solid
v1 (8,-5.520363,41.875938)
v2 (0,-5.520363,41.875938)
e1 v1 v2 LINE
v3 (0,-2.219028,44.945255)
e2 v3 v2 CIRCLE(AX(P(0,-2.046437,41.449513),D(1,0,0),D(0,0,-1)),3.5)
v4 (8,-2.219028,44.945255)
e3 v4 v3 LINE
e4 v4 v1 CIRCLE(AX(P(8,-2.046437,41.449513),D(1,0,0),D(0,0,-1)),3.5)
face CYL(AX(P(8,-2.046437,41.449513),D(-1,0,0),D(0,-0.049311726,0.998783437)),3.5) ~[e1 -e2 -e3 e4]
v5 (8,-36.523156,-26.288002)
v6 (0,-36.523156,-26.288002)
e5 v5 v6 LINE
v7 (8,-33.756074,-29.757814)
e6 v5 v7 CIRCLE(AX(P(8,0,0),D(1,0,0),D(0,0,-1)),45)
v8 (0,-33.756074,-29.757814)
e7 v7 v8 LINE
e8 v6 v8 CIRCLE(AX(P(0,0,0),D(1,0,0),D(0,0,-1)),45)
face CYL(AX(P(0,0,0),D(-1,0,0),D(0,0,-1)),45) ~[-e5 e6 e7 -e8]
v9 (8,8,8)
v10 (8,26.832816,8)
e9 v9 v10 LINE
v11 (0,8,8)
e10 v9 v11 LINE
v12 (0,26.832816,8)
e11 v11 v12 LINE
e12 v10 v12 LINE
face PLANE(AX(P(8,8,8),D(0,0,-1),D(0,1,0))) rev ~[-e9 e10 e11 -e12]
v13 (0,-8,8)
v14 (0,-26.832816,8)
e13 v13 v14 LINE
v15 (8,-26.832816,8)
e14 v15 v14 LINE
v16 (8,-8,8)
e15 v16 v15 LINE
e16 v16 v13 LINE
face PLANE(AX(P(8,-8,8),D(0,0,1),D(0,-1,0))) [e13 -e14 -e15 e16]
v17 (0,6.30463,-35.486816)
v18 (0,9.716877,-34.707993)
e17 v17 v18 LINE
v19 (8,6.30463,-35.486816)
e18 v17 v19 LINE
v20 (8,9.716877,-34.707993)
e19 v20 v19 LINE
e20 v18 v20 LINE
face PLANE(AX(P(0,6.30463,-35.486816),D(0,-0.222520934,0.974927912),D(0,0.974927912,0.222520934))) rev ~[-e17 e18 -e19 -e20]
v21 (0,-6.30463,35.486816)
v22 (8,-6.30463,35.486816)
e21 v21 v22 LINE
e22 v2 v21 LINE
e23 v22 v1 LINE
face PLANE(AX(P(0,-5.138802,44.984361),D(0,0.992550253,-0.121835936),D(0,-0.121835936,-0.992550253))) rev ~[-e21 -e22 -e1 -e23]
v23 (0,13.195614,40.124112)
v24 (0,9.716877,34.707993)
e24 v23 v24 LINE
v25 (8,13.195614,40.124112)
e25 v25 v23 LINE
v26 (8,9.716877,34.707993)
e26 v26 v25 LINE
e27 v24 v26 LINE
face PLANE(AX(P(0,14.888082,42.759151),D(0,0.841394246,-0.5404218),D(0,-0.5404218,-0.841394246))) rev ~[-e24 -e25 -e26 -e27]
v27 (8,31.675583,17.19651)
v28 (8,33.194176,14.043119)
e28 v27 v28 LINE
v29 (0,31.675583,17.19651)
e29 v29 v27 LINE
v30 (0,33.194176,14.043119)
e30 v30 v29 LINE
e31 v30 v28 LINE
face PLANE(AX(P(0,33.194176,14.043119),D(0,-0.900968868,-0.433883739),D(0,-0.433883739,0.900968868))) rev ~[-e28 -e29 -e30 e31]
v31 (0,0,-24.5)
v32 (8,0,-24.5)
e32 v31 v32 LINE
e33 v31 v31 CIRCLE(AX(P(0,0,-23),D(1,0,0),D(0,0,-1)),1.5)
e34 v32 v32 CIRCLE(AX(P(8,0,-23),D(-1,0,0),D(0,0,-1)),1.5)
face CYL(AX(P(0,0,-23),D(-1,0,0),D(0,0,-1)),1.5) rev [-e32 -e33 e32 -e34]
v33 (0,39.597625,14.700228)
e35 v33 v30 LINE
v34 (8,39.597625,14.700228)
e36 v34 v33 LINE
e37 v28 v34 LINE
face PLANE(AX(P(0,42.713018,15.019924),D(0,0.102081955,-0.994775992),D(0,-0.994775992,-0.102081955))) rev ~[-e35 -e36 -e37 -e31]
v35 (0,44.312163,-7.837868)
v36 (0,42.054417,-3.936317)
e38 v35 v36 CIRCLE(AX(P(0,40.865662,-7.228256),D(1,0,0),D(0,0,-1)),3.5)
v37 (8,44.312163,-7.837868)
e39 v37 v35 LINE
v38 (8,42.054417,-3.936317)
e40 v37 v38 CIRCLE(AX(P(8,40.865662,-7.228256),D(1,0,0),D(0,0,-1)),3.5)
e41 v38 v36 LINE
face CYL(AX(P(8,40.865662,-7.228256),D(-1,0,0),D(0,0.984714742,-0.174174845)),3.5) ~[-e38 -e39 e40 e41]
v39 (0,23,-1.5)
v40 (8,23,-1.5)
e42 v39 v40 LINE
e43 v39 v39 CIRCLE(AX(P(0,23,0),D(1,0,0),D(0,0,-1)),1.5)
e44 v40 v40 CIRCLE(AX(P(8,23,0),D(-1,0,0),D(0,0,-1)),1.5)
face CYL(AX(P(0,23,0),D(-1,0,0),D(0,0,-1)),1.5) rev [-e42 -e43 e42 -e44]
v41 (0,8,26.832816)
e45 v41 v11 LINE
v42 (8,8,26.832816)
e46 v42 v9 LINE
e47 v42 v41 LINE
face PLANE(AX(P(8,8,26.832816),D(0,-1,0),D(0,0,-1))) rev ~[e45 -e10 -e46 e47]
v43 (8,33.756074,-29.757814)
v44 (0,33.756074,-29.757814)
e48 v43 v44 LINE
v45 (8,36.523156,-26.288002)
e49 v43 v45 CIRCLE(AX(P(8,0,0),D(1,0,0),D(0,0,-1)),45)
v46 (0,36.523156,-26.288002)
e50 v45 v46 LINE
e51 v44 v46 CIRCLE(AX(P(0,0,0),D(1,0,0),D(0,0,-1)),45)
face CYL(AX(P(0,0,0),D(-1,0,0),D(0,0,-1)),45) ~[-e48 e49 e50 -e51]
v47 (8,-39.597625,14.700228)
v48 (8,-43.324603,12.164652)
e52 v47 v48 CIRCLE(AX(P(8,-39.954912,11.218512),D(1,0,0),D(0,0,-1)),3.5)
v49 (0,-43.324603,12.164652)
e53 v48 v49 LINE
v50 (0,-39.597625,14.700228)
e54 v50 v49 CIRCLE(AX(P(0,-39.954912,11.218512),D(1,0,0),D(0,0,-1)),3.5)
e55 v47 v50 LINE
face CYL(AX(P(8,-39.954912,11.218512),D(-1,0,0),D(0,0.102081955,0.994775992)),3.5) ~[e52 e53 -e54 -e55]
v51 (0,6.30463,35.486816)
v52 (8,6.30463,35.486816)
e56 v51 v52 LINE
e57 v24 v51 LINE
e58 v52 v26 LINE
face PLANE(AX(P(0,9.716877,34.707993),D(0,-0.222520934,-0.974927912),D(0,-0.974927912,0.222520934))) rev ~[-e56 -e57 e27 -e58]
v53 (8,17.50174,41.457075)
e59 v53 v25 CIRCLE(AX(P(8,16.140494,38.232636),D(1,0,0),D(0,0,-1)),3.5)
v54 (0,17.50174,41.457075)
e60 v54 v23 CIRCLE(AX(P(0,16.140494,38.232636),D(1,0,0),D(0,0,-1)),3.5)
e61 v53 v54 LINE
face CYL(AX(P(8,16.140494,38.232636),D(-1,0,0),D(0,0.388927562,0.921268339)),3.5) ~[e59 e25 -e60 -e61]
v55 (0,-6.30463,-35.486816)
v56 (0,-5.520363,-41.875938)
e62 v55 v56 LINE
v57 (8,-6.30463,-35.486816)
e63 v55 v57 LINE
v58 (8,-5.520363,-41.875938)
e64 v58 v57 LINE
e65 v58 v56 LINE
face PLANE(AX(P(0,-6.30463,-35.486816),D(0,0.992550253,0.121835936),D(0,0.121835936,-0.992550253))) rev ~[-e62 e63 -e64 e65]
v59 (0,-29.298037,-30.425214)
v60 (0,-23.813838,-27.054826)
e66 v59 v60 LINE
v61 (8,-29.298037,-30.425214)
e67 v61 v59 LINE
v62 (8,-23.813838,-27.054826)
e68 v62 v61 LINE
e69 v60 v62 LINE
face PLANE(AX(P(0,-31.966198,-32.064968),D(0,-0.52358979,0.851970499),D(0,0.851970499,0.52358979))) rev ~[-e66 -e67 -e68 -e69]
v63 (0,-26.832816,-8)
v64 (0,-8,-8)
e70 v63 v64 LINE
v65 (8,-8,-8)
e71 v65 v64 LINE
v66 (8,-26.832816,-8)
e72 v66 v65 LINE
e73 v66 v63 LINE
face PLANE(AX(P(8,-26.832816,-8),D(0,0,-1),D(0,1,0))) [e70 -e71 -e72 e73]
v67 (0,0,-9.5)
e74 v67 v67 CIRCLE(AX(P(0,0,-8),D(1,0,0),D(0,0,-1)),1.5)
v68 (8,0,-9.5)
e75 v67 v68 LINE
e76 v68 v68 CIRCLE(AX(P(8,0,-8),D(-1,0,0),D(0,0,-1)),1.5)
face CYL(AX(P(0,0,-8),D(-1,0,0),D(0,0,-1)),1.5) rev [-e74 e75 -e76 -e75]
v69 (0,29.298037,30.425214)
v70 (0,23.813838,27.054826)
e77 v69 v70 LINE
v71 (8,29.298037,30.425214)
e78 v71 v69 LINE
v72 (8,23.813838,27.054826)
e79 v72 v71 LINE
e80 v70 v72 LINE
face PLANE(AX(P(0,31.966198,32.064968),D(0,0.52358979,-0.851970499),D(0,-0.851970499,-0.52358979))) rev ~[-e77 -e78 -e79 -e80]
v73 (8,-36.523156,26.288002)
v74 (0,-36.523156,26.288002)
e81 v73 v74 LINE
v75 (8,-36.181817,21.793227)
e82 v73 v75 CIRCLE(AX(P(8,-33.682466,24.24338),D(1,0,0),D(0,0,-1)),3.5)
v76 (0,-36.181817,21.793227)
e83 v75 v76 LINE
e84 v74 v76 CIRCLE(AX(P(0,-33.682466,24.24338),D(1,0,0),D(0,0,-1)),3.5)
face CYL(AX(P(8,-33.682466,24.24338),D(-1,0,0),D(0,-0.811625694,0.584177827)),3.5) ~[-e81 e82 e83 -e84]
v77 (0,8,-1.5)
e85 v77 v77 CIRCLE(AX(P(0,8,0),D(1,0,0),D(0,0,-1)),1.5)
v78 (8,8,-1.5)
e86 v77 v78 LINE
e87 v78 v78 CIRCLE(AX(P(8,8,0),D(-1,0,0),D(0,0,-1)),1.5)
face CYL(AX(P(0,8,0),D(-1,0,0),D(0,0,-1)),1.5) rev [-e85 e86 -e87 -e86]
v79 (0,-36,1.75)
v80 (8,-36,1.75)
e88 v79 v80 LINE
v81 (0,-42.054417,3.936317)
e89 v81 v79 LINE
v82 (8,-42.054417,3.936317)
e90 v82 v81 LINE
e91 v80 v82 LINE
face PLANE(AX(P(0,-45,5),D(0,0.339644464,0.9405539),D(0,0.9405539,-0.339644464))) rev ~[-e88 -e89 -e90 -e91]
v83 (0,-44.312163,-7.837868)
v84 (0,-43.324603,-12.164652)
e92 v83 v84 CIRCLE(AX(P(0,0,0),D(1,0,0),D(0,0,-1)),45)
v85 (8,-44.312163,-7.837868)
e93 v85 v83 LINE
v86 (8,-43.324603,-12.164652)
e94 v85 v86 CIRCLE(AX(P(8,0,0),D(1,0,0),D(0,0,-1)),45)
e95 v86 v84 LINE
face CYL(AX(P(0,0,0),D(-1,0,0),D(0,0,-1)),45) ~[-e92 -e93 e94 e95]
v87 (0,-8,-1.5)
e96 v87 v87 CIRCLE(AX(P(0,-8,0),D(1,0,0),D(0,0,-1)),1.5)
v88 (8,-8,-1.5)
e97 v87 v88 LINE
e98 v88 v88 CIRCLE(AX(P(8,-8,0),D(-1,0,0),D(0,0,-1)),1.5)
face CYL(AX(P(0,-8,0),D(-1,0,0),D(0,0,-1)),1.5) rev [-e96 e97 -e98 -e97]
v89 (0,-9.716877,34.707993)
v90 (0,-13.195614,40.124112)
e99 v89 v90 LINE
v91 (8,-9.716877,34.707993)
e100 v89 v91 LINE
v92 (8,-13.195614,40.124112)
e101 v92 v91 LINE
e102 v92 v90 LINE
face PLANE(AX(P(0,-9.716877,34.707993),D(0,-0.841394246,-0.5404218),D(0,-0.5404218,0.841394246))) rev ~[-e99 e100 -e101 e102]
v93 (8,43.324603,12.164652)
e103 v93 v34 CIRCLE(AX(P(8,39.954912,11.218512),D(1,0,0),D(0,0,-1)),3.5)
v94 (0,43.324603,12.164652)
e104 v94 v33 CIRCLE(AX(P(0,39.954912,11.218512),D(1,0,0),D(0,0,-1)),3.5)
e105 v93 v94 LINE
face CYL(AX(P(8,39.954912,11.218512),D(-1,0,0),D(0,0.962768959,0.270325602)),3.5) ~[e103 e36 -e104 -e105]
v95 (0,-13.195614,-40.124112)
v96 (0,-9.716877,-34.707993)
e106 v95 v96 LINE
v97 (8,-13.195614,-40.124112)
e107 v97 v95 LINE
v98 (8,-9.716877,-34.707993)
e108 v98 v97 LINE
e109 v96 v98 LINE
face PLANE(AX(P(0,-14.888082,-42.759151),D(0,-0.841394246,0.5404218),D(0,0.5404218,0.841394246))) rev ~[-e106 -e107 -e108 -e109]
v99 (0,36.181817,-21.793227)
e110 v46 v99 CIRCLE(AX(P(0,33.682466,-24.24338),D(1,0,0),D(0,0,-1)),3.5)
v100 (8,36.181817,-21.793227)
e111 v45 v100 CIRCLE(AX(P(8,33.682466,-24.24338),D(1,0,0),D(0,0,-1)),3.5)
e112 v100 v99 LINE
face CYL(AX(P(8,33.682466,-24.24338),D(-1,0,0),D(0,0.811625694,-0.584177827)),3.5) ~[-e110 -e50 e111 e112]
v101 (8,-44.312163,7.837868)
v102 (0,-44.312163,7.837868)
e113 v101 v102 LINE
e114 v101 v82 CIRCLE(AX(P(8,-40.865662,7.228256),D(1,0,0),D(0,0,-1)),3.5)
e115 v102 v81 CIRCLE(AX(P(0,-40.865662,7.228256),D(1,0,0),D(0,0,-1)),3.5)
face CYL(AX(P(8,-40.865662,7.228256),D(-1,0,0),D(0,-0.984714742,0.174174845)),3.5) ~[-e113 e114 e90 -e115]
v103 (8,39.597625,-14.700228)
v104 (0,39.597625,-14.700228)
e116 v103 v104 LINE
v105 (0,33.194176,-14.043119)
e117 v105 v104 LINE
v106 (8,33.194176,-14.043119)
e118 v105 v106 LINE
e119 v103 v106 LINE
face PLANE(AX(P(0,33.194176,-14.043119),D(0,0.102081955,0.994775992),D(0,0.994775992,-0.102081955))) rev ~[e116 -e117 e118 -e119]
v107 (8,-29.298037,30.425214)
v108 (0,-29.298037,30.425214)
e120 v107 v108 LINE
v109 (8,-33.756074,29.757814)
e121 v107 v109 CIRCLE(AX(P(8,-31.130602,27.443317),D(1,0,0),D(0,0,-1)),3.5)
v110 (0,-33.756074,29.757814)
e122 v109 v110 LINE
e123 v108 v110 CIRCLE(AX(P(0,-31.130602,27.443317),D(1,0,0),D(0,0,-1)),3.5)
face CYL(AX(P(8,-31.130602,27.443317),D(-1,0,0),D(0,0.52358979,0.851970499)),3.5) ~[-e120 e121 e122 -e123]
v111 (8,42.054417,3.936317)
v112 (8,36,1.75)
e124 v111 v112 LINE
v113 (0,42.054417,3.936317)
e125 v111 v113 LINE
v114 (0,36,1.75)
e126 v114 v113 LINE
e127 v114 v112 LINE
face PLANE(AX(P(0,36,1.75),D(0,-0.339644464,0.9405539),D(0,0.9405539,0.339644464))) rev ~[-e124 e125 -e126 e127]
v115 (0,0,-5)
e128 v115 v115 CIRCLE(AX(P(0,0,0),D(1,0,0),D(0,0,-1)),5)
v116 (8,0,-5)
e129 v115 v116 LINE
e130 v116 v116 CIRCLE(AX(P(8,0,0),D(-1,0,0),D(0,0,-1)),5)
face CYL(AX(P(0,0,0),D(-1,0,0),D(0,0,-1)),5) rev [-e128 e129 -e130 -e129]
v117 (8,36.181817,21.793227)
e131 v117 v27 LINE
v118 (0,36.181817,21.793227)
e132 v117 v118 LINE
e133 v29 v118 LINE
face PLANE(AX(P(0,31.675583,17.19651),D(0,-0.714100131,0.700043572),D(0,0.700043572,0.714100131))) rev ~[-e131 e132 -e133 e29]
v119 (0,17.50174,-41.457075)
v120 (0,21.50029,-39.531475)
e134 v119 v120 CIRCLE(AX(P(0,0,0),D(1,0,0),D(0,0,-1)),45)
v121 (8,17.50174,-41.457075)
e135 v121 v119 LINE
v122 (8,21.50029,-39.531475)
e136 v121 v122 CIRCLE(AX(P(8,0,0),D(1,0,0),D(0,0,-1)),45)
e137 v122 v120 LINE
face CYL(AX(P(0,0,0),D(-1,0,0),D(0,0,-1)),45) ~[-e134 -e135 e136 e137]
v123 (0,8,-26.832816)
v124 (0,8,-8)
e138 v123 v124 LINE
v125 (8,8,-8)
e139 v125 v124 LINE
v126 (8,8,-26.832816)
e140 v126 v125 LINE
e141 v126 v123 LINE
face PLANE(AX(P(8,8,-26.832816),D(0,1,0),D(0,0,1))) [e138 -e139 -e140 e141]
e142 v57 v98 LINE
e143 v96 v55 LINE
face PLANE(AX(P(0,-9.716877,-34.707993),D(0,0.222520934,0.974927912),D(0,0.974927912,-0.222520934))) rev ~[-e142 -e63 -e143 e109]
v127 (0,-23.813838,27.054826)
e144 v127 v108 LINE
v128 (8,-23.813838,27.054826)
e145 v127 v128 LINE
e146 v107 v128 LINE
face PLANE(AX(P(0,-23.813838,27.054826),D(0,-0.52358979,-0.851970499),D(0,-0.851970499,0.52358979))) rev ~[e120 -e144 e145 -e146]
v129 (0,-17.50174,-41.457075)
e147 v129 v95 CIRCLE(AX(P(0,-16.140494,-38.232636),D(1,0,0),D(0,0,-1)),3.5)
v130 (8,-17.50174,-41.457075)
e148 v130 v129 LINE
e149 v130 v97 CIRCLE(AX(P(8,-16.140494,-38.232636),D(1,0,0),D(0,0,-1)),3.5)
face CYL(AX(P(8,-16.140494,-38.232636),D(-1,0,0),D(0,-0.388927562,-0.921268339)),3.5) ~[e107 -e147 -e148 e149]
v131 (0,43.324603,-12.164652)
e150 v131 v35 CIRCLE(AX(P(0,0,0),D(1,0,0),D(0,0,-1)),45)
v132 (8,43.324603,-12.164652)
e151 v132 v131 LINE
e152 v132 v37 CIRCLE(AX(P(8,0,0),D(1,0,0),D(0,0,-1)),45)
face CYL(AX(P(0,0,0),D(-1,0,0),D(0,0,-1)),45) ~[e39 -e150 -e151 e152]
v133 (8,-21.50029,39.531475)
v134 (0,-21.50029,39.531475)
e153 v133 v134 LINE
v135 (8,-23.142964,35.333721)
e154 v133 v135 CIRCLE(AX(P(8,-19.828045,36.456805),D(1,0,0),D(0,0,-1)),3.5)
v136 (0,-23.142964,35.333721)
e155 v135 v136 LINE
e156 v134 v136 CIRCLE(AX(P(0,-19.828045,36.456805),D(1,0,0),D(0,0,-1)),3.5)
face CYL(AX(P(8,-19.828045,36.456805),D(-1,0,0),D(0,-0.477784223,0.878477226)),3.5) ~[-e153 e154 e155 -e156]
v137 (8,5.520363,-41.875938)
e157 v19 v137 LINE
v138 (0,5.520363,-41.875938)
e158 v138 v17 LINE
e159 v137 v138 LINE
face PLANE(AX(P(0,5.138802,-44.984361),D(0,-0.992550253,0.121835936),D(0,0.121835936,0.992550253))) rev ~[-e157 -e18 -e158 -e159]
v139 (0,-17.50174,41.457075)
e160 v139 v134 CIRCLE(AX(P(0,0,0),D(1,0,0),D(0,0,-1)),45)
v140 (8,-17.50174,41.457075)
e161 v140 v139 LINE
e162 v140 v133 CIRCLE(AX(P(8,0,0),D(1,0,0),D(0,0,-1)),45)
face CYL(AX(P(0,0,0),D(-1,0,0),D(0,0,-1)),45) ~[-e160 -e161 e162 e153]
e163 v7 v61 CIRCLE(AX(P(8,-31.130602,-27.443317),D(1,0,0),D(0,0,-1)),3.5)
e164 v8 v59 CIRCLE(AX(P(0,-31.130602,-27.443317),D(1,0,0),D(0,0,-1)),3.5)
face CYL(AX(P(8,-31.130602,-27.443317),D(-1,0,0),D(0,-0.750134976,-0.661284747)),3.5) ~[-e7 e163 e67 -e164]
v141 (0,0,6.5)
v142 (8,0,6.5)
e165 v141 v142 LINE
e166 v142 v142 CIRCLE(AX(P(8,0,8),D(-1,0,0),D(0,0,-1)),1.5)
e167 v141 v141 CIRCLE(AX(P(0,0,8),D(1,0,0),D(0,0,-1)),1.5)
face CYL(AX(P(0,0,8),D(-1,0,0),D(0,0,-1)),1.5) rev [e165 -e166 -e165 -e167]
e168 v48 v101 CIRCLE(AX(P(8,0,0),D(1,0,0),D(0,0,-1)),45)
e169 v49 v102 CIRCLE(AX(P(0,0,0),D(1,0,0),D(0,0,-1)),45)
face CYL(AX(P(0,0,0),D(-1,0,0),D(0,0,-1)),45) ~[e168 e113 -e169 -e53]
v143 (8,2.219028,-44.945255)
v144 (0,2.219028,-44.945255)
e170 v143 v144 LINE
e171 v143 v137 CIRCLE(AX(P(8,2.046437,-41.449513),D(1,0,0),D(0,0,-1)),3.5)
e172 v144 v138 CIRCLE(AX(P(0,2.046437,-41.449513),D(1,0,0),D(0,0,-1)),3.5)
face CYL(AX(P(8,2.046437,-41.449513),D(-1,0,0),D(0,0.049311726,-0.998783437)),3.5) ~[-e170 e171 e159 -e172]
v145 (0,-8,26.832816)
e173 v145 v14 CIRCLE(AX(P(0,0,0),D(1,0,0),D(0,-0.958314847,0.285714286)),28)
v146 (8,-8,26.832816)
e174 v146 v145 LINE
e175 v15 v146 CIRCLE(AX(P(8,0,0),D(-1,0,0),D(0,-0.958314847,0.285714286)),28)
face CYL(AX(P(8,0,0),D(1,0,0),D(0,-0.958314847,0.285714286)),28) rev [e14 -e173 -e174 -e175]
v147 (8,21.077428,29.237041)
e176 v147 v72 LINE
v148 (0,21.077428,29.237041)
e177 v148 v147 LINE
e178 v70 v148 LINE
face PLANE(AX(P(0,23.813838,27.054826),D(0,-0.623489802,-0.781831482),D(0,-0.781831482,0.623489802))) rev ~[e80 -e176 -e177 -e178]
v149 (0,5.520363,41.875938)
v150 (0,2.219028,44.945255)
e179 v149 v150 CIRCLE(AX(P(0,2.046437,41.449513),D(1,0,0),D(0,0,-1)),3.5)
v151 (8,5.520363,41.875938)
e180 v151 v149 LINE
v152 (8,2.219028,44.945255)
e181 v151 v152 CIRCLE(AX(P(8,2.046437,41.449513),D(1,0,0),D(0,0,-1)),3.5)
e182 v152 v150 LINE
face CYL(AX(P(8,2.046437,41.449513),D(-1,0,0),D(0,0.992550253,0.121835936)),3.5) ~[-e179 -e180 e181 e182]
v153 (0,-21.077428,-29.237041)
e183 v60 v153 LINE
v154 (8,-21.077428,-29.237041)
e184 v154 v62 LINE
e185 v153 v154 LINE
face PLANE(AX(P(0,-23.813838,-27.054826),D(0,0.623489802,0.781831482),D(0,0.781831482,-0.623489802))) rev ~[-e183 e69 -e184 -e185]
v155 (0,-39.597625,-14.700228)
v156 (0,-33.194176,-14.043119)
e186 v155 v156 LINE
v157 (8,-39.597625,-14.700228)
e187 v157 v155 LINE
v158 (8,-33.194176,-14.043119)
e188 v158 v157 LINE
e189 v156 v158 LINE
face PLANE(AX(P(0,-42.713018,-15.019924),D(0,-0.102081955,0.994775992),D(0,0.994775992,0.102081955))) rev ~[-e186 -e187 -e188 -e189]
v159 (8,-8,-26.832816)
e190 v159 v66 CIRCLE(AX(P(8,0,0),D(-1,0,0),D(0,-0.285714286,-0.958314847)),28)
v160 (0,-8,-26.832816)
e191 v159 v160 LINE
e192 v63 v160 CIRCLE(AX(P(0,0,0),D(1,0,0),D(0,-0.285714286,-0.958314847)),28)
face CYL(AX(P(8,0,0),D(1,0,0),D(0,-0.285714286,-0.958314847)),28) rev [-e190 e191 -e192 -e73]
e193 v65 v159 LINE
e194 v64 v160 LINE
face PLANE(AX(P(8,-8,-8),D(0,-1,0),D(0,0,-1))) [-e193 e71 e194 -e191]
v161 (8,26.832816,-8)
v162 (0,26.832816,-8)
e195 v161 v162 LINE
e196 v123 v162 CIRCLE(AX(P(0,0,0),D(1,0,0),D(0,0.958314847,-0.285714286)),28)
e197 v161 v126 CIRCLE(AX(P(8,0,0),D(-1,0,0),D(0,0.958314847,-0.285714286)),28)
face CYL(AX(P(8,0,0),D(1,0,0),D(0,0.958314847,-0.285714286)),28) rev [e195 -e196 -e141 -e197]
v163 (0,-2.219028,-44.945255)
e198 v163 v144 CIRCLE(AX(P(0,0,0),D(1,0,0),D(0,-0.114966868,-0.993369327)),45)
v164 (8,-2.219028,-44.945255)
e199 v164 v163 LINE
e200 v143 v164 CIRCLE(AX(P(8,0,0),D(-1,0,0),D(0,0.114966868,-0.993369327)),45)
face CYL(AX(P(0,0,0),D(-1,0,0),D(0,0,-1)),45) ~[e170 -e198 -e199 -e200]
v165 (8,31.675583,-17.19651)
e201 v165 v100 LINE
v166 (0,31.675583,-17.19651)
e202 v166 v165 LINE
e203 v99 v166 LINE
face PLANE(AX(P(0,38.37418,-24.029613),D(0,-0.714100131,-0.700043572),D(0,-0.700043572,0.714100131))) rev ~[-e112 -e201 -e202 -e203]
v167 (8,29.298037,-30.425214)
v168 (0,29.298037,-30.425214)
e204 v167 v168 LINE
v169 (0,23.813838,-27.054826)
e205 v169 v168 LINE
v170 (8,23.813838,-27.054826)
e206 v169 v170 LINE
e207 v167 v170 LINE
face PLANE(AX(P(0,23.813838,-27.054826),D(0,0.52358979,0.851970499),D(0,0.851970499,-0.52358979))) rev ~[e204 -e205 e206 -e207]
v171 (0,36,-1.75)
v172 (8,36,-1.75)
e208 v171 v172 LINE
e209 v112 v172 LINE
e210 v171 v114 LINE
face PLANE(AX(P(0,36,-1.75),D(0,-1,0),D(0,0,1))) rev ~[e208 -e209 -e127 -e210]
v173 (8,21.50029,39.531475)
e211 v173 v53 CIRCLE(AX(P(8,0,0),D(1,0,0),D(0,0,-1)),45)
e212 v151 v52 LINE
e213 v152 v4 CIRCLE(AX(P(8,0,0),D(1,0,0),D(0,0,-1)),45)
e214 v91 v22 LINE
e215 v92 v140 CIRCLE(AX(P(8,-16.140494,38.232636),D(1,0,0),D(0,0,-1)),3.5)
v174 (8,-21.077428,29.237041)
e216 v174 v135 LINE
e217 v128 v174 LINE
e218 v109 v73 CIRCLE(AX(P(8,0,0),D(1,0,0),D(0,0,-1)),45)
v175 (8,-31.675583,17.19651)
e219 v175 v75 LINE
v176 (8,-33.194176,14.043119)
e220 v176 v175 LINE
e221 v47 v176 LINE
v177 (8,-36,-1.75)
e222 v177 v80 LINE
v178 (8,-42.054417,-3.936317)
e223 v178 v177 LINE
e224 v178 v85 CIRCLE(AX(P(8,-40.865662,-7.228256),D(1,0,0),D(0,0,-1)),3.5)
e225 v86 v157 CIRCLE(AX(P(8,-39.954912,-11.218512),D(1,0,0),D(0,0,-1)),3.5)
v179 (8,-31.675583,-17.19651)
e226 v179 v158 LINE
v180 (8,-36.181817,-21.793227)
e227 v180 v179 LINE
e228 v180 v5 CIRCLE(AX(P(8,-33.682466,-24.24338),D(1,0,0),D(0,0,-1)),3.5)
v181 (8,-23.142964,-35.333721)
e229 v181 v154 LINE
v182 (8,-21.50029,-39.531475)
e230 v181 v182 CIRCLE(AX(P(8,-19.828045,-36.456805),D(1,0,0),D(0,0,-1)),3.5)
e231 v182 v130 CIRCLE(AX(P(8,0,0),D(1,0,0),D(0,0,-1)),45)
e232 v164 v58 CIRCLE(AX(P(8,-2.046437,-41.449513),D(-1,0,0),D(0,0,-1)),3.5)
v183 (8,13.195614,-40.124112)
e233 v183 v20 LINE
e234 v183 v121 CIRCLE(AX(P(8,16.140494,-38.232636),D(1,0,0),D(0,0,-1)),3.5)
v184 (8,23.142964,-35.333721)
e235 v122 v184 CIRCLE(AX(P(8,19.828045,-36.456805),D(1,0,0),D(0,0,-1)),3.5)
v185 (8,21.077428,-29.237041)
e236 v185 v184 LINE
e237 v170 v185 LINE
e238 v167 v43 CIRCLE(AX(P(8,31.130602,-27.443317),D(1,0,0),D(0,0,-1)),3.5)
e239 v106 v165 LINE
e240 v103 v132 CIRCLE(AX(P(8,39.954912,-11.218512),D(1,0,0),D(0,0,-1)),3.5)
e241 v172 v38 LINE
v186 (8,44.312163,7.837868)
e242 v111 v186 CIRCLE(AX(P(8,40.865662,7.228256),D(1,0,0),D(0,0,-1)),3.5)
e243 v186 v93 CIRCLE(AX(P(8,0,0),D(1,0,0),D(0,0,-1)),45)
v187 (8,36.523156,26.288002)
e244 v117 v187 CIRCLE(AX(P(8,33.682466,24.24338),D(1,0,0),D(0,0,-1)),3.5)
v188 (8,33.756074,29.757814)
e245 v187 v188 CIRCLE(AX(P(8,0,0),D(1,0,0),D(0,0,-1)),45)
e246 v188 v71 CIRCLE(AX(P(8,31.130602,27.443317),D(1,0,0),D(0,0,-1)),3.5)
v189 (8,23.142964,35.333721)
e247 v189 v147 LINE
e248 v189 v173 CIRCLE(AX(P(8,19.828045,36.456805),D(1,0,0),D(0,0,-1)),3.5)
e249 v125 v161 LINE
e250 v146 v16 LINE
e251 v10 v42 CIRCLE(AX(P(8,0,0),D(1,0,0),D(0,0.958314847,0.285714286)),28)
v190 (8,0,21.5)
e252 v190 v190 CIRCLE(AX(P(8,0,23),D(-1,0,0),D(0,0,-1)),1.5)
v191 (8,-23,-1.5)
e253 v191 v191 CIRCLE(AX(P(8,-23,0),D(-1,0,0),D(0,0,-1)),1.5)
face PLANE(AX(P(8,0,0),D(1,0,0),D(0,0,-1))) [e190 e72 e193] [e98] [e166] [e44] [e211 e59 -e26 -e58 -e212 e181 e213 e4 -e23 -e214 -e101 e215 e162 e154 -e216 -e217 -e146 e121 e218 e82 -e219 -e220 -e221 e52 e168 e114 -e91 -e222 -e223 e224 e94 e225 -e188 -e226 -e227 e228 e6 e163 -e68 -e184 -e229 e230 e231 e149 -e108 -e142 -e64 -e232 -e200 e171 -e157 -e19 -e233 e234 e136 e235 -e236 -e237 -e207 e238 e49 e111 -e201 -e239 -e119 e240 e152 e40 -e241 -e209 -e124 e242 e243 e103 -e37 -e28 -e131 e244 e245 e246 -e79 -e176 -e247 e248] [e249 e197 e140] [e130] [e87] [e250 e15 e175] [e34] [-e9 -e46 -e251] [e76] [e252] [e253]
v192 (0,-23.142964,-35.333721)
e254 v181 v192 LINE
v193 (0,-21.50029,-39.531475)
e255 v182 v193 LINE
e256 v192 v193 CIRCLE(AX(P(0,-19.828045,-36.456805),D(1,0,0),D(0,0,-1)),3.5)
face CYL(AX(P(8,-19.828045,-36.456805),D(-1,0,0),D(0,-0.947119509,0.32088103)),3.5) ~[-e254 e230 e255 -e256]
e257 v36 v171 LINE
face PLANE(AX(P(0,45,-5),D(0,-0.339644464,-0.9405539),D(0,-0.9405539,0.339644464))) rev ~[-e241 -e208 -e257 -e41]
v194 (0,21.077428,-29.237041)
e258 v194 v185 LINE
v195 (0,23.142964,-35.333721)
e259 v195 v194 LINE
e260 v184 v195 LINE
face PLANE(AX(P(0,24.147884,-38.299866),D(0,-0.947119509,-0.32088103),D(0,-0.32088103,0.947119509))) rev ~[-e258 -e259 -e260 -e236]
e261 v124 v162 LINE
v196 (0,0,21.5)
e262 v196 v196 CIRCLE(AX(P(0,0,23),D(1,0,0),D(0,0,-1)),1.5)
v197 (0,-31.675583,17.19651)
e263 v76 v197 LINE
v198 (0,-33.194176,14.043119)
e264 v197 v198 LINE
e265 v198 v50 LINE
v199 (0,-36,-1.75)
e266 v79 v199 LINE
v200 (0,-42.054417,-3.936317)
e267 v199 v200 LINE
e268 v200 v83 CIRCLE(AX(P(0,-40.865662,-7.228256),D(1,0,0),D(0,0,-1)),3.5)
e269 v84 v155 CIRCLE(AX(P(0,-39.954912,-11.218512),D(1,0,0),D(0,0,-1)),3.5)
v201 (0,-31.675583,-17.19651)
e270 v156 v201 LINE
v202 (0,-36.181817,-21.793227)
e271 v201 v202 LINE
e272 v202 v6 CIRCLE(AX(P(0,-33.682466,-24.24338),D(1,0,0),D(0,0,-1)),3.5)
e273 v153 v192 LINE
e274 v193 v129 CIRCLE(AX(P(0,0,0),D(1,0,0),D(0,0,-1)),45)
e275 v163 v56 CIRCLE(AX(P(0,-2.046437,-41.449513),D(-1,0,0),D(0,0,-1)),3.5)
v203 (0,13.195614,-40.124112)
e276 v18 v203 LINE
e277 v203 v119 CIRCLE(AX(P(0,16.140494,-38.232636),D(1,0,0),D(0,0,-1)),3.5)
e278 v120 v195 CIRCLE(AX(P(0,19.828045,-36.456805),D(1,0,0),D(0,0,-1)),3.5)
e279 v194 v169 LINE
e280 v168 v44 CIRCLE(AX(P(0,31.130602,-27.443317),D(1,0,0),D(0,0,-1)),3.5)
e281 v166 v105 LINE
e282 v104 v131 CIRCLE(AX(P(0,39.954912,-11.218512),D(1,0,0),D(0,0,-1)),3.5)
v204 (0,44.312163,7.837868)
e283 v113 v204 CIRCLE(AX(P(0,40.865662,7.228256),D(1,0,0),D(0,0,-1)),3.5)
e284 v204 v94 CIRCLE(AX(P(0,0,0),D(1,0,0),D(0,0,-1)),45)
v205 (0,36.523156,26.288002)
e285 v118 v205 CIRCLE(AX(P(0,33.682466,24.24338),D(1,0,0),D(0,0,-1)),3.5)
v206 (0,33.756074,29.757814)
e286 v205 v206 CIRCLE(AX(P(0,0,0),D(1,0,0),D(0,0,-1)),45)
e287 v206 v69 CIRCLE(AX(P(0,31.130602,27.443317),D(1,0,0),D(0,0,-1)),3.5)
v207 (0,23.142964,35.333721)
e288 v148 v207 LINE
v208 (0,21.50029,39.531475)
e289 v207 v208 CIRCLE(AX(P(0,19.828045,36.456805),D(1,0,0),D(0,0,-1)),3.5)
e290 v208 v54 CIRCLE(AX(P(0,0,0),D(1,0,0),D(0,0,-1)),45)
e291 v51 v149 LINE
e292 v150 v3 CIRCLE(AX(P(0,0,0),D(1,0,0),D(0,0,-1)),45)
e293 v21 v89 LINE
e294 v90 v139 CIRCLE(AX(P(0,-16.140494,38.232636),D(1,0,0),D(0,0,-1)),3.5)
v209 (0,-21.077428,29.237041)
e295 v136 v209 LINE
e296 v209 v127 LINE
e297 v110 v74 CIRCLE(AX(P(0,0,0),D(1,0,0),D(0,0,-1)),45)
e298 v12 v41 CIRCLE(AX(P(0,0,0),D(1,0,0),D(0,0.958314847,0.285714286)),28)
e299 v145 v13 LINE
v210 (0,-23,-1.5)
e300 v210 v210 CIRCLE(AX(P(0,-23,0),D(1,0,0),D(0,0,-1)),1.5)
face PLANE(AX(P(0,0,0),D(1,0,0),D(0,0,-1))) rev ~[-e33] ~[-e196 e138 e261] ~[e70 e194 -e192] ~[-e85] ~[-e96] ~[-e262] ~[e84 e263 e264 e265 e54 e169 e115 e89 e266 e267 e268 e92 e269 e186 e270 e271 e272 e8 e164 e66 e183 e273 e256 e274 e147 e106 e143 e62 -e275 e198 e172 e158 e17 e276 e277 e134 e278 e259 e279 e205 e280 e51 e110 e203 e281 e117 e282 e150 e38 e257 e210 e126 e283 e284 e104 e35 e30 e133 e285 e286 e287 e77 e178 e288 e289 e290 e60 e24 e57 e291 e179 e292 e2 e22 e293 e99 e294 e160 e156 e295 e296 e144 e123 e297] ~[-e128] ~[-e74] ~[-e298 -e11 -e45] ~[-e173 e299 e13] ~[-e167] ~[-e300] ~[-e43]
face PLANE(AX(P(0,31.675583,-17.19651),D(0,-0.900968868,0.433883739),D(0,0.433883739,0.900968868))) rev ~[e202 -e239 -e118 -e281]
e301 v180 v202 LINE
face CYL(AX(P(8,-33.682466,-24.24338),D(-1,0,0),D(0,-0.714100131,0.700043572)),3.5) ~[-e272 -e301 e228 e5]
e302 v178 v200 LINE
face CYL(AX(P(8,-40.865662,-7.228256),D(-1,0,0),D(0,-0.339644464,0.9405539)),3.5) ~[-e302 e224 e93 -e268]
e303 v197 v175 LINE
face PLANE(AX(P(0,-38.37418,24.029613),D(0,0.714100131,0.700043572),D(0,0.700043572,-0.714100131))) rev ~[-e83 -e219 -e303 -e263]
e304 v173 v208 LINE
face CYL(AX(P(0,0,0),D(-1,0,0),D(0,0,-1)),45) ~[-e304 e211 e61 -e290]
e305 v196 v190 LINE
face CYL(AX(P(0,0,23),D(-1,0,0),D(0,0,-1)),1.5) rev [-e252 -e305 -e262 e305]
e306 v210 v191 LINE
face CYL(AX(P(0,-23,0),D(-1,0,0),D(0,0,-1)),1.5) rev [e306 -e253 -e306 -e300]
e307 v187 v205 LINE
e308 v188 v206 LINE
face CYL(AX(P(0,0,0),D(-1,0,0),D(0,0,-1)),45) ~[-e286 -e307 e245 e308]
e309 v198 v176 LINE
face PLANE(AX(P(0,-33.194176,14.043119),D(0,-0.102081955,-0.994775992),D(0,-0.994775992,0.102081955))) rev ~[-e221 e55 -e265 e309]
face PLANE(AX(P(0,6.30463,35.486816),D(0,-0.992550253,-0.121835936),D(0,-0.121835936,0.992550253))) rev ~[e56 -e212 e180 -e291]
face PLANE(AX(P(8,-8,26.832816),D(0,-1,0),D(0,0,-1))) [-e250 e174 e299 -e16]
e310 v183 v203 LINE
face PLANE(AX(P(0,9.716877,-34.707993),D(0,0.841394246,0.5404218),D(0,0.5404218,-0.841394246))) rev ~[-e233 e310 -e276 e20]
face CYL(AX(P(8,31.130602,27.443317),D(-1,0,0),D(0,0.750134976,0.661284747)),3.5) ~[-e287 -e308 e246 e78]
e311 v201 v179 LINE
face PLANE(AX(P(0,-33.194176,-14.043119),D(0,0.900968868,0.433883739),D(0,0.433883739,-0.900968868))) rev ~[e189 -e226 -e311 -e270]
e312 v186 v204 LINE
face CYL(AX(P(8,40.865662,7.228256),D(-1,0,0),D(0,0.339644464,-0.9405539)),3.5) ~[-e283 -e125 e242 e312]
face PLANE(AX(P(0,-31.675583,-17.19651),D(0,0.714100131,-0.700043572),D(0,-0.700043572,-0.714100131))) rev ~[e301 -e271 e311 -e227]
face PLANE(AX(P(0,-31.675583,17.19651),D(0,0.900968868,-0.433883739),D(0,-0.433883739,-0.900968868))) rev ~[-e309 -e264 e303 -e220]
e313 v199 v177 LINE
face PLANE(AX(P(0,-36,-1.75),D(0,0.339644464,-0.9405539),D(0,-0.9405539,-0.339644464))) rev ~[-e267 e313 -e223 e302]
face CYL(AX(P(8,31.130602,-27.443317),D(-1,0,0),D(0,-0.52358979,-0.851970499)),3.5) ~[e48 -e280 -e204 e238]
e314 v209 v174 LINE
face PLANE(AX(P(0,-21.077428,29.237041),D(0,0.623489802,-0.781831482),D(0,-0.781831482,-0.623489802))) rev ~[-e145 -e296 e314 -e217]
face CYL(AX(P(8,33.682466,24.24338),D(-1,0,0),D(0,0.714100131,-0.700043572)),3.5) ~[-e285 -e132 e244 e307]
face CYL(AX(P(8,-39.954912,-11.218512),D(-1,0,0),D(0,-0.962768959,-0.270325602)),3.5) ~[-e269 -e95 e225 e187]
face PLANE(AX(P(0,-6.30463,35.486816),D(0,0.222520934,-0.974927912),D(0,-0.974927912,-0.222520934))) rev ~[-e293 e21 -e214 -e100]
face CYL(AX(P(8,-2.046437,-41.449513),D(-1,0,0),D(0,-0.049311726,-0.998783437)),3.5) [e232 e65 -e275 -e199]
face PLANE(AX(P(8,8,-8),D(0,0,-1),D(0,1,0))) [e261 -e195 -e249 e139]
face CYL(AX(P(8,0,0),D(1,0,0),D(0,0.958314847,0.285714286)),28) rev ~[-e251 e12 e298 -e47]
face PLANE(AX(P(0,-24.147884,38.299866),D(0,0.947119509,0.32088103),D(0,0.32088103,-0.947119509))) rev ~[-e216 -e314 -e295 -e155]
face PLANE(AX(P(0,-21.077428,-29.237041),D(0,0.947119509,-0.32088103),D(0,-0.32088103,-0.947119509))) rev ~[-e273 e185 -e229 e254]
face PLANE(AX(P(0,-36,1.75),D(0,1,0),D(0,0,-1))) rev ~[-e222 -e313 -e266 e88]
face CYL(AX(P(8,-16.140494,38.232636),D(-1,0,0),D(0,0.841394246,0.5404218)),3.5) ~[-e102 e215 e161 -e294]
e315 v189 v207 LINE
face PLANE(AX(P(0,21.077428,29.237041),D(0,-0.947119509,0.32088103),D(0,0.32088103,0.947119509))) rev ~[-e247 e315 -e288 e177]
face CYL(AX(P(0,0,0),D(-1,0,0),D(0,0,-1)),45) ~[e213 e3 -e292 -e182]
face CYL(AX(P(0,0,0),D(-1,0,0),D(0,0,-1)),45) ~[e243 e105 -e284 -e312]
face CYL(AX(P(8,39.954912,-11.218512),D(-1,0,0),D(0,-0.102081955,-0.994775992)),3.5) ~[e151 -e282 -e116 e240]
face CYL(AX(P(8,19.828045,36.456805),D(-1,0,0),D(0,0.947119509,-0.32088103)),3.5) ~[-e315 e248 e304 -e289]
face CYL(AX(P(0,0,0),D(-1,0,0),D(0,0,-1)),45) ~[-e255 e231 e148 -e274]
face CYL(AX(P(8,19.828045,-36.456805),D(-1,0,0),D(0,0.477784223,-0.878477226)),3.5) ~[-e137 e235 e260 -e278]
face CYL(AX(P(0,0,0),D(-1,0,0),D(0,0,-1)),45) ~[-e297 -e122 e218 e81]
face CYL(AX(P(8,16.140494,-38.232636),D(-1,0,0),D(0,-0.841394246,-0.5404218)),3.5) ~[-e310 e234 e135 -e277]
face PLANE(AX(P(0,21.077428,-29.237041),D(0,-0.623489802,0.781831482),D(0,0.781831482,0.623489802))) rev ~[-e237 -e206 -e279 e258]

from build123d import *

# Parameters (mm, degrees)
SPROCKET_R                   = 45
ESTRUSIONE_ESTRUSIONE2_DEPTH = 8
TAGLIO_ESTRUSIONE1_DEPTH     = 9
RACCORDO1_R                  = 3.5
SCHIZZO1_R                   = 5
SCHIZZO1_R_2                 = 1.5
TAGLIO_ESTRUSIONE2_DEPTH     = 9
TAGLIO_ESTRUSIONE3_DEPTH     = 9


with BuildPart() as part:
    # Sprocket → Estrusione-Estrusione2 (new body)
    with BuildSketch(Plane(origin=(0, 0, 0), x_dir=(0, 0, -1), z_dir=(1, 0, 0))):
        Circle(SPROCKET_R)
    extrude(amount=ESTRUSIONE_ESTRUSIONE2_DEPTH)

    # Tooth → Taglio-Estrusione1 (cut, through all)
    with BuildSketch(Plane(origin=(0, 0, 0), x_dir=(0, 0, -1), z_dir=(1, 0, 0))):
        Polygon((-5, 45), (5, 45), (1.75, 36), (-1.75, 36), align=None)
        Polygon((24.0296126, 38.37418036), (17.196510127, 31.675582701), (14.043119089, 33.194175788), (15.019923921, 42.713017751), align=None)
        Polygon((38.29986572, 24.147883671), (29.237040522, 21.077427773), (27.054826216, 23.813837961), (32.064967702, 31.966198496), align=None)
        Polygon((44.984360718, 5.138802467), (35.486816473, 6.304629776), (34.707993204, 9.716877469), (42.759151378, 14.888081589), align=None)
        Polygon((42.759151378, -14.888081589), (34.707993204, -9.716877469), (35.486816473, -6.304629776), (44.984360718, -5.138802467), align=None)
        Polygon((32.064967702, -31.966198496), (27.054826216, -23.813837961), (29.237040522, -21.077427773), (38.29986572, -24.147883671), align=None)
        Polygon((15.019923921, -42.713017751), (14.043119089, -33.194175788), (17.196510127, -31.675582701), (24.0296126, -38.37418036), align=None)
        Polygon((-5, -45), (-1.75, -36), (1.75, -36), (5, -45), align=None)
        Polygon((-24.0296126, -38.37418036), (-17.196510127, -31.675582701), (-14.043119089, -33.194175788), (-15.019923921, -42.713017751), align=None)
        Polygon((-38.29986572, -24.147883671), (-29.237040522, -21.077427773), (-27.054826216, -23.813837961), (-32.064967702, -31.966198496), align=None)
        Polygon((-44.984360718, -5.138802467), (-35.486816473, -6.304629776), (-34.707993204, -9.716877469), (-42.759151378, -14.888081589), align=None)
        Polygon((-42.759151378, 14.888081589), (-34.707993204, 9.716877469), (-35.486816473, 6.304629776), (-44.984360718, 5.138802467), align=None)
        Polygon((-32.064967702, 31.966198496), (-27.054826216, 23.813837961), (-29.237040522, 21.077427773), (-38.29986572, 24.147883671), align=None)
        Polygon((-15.019923921, 42.713017751), (-14.043119089, 33.194175788), (-17.196510127, 31.675582701), (-24.0296126, 38.37418036), align=None)
    extrude(amount=TAGLIO_ESTRUSIONE1_DEPTH, mode=Mode.SUBTRACT)

    # Raccordo1
    raccordo1_edges = [part.edges().sort_by_distance(p)[0] for p in [
        (4, -5.173509038, -44.701619705),
        (4, -14.734135321, -42.519469145),
        (4, -24.056476483, -38.030066253),
        (4, -31.723503477, -31.915816253),
        (4, 44.732070833, 4.903247801),
        (4, 44.732070833, -4.903247801),
        (4, -38.174763728, -23.826191772),
        (4, -42.429642707, -14.990844531),
        (4, -44.732070833, -4.903247801),
        (4, -44.732070833, 4.903247801),
        (4, -42.429642707, 14.990844531),
        (4, -38.174763728, 23.826191772),
        (4, -31.723503477, 31.915816253),
        (4, -24.056476483, 38.030066253),
        (4, -14.734135321, 42.519469145),
        (4, -5.173509038, 44.701619705),
        (4, 5.173509038, 44.701619705),
        (4, 14.734135321, 42.519469145),
        (4, 24.056476483, 38.030066253),
        (4, 31.723503477, 31.915816253),
        (4, 38.174763728, 23.826191772),
        (4, 42.429642707, 14.990844531),
        (4, 42.429642707, -14.990844531),
        (4, 38.174763728, -23.826191772),
        (4, 31.723503477, -31.915816253),
        (4, 24.056476483, -38.030066253),
        (4, 14.734135321, -42.519469145),
        (4, 5.173509038, -44.701619705),
    ]]
    fillet(raccordo1_edges, radius=RACCORDO1_R)

    # Schizzo1 → Taglio-Estrusione2 (cut, through all)
    with BuildSketch(Plane(origin=(0, 0, 0), x_dir=(0, 0, -1), z_dir=(1, 0, 0))):
        Circle(SCHIZZO1_R)
        with Locations((0, 8)):
            Circle(SCHIZZO1_R_2)
        with Locations((8, 0)):
            Circle(SCHIZZO1_R_2)
        with Locations((0, -8)):
            Circle(SCHIZZO1_R_2)
        with Locations((-8, 0)):
            Circle(SCHIZZO1_R_2)
        with Locations((0, 23)):
            Circle(SCHIZZO1_R_2)
        with Locations((23, 0)):
            Circle(SCHIZZO1_R_2)
        with Locations((0, -23)):
            Circle(SCHIZZO1_R_2)
        with Locations((-23, 0)):
            Circle(SCHIZZO1_R_2)
    extrude(amount=TAGLIO_ESTRUSIONE2_DEPTH, mode=Mode.SUBTRACT)

    # Schizzo2 → Taglio-Estrusione3 (cut, through all)
    with BuildSketch(Plane(origin=(8, 0, 0), x_dir=(0, 0, -1), z_dir=(1, 0, 0))):
        with BuildLine():
            Line((-26.83281573, 8), (-8, 8))
            Line((-8, 8), (-8, 26.83281573))
            ThreePointArc((-8, 26.83281573), (-19.798989873, 19.798989873), (-26.83281573, 8))
        make_face()
        with BuildLine():
            Line((26.83281573, 8), (8, 8))
            Line((8, 8), (8, 26.83281573))
            ThreePointArc((8, 26.83281573), (19.798989873, 19.798989873), (26.83281573, 8))
        make_face()
        with BuildLine():
            Line((8, -26.83281573), (8, -8))
            Line((8, -8), (26.83281573, -8))
            ThreePointArc((26.83281573, -8), (19.798989873, -19.798989873), (8, -26.83281573))
        make_face()
        with BuildLine():
            Line((-26.83281573, -8), (-8, -8))
            Line((-8, -8), (-8, -26.83281573))
            ThreePointArc((-8, -26.83281573), (-19.798989873, -19.798989873), (-26.83281573, -8))
        make_face()
    extrude(amount=-TAGLIO_ESTRUSIONE3_DEPTH, mode=Mode.SUBTRACT)


solid = part.part
